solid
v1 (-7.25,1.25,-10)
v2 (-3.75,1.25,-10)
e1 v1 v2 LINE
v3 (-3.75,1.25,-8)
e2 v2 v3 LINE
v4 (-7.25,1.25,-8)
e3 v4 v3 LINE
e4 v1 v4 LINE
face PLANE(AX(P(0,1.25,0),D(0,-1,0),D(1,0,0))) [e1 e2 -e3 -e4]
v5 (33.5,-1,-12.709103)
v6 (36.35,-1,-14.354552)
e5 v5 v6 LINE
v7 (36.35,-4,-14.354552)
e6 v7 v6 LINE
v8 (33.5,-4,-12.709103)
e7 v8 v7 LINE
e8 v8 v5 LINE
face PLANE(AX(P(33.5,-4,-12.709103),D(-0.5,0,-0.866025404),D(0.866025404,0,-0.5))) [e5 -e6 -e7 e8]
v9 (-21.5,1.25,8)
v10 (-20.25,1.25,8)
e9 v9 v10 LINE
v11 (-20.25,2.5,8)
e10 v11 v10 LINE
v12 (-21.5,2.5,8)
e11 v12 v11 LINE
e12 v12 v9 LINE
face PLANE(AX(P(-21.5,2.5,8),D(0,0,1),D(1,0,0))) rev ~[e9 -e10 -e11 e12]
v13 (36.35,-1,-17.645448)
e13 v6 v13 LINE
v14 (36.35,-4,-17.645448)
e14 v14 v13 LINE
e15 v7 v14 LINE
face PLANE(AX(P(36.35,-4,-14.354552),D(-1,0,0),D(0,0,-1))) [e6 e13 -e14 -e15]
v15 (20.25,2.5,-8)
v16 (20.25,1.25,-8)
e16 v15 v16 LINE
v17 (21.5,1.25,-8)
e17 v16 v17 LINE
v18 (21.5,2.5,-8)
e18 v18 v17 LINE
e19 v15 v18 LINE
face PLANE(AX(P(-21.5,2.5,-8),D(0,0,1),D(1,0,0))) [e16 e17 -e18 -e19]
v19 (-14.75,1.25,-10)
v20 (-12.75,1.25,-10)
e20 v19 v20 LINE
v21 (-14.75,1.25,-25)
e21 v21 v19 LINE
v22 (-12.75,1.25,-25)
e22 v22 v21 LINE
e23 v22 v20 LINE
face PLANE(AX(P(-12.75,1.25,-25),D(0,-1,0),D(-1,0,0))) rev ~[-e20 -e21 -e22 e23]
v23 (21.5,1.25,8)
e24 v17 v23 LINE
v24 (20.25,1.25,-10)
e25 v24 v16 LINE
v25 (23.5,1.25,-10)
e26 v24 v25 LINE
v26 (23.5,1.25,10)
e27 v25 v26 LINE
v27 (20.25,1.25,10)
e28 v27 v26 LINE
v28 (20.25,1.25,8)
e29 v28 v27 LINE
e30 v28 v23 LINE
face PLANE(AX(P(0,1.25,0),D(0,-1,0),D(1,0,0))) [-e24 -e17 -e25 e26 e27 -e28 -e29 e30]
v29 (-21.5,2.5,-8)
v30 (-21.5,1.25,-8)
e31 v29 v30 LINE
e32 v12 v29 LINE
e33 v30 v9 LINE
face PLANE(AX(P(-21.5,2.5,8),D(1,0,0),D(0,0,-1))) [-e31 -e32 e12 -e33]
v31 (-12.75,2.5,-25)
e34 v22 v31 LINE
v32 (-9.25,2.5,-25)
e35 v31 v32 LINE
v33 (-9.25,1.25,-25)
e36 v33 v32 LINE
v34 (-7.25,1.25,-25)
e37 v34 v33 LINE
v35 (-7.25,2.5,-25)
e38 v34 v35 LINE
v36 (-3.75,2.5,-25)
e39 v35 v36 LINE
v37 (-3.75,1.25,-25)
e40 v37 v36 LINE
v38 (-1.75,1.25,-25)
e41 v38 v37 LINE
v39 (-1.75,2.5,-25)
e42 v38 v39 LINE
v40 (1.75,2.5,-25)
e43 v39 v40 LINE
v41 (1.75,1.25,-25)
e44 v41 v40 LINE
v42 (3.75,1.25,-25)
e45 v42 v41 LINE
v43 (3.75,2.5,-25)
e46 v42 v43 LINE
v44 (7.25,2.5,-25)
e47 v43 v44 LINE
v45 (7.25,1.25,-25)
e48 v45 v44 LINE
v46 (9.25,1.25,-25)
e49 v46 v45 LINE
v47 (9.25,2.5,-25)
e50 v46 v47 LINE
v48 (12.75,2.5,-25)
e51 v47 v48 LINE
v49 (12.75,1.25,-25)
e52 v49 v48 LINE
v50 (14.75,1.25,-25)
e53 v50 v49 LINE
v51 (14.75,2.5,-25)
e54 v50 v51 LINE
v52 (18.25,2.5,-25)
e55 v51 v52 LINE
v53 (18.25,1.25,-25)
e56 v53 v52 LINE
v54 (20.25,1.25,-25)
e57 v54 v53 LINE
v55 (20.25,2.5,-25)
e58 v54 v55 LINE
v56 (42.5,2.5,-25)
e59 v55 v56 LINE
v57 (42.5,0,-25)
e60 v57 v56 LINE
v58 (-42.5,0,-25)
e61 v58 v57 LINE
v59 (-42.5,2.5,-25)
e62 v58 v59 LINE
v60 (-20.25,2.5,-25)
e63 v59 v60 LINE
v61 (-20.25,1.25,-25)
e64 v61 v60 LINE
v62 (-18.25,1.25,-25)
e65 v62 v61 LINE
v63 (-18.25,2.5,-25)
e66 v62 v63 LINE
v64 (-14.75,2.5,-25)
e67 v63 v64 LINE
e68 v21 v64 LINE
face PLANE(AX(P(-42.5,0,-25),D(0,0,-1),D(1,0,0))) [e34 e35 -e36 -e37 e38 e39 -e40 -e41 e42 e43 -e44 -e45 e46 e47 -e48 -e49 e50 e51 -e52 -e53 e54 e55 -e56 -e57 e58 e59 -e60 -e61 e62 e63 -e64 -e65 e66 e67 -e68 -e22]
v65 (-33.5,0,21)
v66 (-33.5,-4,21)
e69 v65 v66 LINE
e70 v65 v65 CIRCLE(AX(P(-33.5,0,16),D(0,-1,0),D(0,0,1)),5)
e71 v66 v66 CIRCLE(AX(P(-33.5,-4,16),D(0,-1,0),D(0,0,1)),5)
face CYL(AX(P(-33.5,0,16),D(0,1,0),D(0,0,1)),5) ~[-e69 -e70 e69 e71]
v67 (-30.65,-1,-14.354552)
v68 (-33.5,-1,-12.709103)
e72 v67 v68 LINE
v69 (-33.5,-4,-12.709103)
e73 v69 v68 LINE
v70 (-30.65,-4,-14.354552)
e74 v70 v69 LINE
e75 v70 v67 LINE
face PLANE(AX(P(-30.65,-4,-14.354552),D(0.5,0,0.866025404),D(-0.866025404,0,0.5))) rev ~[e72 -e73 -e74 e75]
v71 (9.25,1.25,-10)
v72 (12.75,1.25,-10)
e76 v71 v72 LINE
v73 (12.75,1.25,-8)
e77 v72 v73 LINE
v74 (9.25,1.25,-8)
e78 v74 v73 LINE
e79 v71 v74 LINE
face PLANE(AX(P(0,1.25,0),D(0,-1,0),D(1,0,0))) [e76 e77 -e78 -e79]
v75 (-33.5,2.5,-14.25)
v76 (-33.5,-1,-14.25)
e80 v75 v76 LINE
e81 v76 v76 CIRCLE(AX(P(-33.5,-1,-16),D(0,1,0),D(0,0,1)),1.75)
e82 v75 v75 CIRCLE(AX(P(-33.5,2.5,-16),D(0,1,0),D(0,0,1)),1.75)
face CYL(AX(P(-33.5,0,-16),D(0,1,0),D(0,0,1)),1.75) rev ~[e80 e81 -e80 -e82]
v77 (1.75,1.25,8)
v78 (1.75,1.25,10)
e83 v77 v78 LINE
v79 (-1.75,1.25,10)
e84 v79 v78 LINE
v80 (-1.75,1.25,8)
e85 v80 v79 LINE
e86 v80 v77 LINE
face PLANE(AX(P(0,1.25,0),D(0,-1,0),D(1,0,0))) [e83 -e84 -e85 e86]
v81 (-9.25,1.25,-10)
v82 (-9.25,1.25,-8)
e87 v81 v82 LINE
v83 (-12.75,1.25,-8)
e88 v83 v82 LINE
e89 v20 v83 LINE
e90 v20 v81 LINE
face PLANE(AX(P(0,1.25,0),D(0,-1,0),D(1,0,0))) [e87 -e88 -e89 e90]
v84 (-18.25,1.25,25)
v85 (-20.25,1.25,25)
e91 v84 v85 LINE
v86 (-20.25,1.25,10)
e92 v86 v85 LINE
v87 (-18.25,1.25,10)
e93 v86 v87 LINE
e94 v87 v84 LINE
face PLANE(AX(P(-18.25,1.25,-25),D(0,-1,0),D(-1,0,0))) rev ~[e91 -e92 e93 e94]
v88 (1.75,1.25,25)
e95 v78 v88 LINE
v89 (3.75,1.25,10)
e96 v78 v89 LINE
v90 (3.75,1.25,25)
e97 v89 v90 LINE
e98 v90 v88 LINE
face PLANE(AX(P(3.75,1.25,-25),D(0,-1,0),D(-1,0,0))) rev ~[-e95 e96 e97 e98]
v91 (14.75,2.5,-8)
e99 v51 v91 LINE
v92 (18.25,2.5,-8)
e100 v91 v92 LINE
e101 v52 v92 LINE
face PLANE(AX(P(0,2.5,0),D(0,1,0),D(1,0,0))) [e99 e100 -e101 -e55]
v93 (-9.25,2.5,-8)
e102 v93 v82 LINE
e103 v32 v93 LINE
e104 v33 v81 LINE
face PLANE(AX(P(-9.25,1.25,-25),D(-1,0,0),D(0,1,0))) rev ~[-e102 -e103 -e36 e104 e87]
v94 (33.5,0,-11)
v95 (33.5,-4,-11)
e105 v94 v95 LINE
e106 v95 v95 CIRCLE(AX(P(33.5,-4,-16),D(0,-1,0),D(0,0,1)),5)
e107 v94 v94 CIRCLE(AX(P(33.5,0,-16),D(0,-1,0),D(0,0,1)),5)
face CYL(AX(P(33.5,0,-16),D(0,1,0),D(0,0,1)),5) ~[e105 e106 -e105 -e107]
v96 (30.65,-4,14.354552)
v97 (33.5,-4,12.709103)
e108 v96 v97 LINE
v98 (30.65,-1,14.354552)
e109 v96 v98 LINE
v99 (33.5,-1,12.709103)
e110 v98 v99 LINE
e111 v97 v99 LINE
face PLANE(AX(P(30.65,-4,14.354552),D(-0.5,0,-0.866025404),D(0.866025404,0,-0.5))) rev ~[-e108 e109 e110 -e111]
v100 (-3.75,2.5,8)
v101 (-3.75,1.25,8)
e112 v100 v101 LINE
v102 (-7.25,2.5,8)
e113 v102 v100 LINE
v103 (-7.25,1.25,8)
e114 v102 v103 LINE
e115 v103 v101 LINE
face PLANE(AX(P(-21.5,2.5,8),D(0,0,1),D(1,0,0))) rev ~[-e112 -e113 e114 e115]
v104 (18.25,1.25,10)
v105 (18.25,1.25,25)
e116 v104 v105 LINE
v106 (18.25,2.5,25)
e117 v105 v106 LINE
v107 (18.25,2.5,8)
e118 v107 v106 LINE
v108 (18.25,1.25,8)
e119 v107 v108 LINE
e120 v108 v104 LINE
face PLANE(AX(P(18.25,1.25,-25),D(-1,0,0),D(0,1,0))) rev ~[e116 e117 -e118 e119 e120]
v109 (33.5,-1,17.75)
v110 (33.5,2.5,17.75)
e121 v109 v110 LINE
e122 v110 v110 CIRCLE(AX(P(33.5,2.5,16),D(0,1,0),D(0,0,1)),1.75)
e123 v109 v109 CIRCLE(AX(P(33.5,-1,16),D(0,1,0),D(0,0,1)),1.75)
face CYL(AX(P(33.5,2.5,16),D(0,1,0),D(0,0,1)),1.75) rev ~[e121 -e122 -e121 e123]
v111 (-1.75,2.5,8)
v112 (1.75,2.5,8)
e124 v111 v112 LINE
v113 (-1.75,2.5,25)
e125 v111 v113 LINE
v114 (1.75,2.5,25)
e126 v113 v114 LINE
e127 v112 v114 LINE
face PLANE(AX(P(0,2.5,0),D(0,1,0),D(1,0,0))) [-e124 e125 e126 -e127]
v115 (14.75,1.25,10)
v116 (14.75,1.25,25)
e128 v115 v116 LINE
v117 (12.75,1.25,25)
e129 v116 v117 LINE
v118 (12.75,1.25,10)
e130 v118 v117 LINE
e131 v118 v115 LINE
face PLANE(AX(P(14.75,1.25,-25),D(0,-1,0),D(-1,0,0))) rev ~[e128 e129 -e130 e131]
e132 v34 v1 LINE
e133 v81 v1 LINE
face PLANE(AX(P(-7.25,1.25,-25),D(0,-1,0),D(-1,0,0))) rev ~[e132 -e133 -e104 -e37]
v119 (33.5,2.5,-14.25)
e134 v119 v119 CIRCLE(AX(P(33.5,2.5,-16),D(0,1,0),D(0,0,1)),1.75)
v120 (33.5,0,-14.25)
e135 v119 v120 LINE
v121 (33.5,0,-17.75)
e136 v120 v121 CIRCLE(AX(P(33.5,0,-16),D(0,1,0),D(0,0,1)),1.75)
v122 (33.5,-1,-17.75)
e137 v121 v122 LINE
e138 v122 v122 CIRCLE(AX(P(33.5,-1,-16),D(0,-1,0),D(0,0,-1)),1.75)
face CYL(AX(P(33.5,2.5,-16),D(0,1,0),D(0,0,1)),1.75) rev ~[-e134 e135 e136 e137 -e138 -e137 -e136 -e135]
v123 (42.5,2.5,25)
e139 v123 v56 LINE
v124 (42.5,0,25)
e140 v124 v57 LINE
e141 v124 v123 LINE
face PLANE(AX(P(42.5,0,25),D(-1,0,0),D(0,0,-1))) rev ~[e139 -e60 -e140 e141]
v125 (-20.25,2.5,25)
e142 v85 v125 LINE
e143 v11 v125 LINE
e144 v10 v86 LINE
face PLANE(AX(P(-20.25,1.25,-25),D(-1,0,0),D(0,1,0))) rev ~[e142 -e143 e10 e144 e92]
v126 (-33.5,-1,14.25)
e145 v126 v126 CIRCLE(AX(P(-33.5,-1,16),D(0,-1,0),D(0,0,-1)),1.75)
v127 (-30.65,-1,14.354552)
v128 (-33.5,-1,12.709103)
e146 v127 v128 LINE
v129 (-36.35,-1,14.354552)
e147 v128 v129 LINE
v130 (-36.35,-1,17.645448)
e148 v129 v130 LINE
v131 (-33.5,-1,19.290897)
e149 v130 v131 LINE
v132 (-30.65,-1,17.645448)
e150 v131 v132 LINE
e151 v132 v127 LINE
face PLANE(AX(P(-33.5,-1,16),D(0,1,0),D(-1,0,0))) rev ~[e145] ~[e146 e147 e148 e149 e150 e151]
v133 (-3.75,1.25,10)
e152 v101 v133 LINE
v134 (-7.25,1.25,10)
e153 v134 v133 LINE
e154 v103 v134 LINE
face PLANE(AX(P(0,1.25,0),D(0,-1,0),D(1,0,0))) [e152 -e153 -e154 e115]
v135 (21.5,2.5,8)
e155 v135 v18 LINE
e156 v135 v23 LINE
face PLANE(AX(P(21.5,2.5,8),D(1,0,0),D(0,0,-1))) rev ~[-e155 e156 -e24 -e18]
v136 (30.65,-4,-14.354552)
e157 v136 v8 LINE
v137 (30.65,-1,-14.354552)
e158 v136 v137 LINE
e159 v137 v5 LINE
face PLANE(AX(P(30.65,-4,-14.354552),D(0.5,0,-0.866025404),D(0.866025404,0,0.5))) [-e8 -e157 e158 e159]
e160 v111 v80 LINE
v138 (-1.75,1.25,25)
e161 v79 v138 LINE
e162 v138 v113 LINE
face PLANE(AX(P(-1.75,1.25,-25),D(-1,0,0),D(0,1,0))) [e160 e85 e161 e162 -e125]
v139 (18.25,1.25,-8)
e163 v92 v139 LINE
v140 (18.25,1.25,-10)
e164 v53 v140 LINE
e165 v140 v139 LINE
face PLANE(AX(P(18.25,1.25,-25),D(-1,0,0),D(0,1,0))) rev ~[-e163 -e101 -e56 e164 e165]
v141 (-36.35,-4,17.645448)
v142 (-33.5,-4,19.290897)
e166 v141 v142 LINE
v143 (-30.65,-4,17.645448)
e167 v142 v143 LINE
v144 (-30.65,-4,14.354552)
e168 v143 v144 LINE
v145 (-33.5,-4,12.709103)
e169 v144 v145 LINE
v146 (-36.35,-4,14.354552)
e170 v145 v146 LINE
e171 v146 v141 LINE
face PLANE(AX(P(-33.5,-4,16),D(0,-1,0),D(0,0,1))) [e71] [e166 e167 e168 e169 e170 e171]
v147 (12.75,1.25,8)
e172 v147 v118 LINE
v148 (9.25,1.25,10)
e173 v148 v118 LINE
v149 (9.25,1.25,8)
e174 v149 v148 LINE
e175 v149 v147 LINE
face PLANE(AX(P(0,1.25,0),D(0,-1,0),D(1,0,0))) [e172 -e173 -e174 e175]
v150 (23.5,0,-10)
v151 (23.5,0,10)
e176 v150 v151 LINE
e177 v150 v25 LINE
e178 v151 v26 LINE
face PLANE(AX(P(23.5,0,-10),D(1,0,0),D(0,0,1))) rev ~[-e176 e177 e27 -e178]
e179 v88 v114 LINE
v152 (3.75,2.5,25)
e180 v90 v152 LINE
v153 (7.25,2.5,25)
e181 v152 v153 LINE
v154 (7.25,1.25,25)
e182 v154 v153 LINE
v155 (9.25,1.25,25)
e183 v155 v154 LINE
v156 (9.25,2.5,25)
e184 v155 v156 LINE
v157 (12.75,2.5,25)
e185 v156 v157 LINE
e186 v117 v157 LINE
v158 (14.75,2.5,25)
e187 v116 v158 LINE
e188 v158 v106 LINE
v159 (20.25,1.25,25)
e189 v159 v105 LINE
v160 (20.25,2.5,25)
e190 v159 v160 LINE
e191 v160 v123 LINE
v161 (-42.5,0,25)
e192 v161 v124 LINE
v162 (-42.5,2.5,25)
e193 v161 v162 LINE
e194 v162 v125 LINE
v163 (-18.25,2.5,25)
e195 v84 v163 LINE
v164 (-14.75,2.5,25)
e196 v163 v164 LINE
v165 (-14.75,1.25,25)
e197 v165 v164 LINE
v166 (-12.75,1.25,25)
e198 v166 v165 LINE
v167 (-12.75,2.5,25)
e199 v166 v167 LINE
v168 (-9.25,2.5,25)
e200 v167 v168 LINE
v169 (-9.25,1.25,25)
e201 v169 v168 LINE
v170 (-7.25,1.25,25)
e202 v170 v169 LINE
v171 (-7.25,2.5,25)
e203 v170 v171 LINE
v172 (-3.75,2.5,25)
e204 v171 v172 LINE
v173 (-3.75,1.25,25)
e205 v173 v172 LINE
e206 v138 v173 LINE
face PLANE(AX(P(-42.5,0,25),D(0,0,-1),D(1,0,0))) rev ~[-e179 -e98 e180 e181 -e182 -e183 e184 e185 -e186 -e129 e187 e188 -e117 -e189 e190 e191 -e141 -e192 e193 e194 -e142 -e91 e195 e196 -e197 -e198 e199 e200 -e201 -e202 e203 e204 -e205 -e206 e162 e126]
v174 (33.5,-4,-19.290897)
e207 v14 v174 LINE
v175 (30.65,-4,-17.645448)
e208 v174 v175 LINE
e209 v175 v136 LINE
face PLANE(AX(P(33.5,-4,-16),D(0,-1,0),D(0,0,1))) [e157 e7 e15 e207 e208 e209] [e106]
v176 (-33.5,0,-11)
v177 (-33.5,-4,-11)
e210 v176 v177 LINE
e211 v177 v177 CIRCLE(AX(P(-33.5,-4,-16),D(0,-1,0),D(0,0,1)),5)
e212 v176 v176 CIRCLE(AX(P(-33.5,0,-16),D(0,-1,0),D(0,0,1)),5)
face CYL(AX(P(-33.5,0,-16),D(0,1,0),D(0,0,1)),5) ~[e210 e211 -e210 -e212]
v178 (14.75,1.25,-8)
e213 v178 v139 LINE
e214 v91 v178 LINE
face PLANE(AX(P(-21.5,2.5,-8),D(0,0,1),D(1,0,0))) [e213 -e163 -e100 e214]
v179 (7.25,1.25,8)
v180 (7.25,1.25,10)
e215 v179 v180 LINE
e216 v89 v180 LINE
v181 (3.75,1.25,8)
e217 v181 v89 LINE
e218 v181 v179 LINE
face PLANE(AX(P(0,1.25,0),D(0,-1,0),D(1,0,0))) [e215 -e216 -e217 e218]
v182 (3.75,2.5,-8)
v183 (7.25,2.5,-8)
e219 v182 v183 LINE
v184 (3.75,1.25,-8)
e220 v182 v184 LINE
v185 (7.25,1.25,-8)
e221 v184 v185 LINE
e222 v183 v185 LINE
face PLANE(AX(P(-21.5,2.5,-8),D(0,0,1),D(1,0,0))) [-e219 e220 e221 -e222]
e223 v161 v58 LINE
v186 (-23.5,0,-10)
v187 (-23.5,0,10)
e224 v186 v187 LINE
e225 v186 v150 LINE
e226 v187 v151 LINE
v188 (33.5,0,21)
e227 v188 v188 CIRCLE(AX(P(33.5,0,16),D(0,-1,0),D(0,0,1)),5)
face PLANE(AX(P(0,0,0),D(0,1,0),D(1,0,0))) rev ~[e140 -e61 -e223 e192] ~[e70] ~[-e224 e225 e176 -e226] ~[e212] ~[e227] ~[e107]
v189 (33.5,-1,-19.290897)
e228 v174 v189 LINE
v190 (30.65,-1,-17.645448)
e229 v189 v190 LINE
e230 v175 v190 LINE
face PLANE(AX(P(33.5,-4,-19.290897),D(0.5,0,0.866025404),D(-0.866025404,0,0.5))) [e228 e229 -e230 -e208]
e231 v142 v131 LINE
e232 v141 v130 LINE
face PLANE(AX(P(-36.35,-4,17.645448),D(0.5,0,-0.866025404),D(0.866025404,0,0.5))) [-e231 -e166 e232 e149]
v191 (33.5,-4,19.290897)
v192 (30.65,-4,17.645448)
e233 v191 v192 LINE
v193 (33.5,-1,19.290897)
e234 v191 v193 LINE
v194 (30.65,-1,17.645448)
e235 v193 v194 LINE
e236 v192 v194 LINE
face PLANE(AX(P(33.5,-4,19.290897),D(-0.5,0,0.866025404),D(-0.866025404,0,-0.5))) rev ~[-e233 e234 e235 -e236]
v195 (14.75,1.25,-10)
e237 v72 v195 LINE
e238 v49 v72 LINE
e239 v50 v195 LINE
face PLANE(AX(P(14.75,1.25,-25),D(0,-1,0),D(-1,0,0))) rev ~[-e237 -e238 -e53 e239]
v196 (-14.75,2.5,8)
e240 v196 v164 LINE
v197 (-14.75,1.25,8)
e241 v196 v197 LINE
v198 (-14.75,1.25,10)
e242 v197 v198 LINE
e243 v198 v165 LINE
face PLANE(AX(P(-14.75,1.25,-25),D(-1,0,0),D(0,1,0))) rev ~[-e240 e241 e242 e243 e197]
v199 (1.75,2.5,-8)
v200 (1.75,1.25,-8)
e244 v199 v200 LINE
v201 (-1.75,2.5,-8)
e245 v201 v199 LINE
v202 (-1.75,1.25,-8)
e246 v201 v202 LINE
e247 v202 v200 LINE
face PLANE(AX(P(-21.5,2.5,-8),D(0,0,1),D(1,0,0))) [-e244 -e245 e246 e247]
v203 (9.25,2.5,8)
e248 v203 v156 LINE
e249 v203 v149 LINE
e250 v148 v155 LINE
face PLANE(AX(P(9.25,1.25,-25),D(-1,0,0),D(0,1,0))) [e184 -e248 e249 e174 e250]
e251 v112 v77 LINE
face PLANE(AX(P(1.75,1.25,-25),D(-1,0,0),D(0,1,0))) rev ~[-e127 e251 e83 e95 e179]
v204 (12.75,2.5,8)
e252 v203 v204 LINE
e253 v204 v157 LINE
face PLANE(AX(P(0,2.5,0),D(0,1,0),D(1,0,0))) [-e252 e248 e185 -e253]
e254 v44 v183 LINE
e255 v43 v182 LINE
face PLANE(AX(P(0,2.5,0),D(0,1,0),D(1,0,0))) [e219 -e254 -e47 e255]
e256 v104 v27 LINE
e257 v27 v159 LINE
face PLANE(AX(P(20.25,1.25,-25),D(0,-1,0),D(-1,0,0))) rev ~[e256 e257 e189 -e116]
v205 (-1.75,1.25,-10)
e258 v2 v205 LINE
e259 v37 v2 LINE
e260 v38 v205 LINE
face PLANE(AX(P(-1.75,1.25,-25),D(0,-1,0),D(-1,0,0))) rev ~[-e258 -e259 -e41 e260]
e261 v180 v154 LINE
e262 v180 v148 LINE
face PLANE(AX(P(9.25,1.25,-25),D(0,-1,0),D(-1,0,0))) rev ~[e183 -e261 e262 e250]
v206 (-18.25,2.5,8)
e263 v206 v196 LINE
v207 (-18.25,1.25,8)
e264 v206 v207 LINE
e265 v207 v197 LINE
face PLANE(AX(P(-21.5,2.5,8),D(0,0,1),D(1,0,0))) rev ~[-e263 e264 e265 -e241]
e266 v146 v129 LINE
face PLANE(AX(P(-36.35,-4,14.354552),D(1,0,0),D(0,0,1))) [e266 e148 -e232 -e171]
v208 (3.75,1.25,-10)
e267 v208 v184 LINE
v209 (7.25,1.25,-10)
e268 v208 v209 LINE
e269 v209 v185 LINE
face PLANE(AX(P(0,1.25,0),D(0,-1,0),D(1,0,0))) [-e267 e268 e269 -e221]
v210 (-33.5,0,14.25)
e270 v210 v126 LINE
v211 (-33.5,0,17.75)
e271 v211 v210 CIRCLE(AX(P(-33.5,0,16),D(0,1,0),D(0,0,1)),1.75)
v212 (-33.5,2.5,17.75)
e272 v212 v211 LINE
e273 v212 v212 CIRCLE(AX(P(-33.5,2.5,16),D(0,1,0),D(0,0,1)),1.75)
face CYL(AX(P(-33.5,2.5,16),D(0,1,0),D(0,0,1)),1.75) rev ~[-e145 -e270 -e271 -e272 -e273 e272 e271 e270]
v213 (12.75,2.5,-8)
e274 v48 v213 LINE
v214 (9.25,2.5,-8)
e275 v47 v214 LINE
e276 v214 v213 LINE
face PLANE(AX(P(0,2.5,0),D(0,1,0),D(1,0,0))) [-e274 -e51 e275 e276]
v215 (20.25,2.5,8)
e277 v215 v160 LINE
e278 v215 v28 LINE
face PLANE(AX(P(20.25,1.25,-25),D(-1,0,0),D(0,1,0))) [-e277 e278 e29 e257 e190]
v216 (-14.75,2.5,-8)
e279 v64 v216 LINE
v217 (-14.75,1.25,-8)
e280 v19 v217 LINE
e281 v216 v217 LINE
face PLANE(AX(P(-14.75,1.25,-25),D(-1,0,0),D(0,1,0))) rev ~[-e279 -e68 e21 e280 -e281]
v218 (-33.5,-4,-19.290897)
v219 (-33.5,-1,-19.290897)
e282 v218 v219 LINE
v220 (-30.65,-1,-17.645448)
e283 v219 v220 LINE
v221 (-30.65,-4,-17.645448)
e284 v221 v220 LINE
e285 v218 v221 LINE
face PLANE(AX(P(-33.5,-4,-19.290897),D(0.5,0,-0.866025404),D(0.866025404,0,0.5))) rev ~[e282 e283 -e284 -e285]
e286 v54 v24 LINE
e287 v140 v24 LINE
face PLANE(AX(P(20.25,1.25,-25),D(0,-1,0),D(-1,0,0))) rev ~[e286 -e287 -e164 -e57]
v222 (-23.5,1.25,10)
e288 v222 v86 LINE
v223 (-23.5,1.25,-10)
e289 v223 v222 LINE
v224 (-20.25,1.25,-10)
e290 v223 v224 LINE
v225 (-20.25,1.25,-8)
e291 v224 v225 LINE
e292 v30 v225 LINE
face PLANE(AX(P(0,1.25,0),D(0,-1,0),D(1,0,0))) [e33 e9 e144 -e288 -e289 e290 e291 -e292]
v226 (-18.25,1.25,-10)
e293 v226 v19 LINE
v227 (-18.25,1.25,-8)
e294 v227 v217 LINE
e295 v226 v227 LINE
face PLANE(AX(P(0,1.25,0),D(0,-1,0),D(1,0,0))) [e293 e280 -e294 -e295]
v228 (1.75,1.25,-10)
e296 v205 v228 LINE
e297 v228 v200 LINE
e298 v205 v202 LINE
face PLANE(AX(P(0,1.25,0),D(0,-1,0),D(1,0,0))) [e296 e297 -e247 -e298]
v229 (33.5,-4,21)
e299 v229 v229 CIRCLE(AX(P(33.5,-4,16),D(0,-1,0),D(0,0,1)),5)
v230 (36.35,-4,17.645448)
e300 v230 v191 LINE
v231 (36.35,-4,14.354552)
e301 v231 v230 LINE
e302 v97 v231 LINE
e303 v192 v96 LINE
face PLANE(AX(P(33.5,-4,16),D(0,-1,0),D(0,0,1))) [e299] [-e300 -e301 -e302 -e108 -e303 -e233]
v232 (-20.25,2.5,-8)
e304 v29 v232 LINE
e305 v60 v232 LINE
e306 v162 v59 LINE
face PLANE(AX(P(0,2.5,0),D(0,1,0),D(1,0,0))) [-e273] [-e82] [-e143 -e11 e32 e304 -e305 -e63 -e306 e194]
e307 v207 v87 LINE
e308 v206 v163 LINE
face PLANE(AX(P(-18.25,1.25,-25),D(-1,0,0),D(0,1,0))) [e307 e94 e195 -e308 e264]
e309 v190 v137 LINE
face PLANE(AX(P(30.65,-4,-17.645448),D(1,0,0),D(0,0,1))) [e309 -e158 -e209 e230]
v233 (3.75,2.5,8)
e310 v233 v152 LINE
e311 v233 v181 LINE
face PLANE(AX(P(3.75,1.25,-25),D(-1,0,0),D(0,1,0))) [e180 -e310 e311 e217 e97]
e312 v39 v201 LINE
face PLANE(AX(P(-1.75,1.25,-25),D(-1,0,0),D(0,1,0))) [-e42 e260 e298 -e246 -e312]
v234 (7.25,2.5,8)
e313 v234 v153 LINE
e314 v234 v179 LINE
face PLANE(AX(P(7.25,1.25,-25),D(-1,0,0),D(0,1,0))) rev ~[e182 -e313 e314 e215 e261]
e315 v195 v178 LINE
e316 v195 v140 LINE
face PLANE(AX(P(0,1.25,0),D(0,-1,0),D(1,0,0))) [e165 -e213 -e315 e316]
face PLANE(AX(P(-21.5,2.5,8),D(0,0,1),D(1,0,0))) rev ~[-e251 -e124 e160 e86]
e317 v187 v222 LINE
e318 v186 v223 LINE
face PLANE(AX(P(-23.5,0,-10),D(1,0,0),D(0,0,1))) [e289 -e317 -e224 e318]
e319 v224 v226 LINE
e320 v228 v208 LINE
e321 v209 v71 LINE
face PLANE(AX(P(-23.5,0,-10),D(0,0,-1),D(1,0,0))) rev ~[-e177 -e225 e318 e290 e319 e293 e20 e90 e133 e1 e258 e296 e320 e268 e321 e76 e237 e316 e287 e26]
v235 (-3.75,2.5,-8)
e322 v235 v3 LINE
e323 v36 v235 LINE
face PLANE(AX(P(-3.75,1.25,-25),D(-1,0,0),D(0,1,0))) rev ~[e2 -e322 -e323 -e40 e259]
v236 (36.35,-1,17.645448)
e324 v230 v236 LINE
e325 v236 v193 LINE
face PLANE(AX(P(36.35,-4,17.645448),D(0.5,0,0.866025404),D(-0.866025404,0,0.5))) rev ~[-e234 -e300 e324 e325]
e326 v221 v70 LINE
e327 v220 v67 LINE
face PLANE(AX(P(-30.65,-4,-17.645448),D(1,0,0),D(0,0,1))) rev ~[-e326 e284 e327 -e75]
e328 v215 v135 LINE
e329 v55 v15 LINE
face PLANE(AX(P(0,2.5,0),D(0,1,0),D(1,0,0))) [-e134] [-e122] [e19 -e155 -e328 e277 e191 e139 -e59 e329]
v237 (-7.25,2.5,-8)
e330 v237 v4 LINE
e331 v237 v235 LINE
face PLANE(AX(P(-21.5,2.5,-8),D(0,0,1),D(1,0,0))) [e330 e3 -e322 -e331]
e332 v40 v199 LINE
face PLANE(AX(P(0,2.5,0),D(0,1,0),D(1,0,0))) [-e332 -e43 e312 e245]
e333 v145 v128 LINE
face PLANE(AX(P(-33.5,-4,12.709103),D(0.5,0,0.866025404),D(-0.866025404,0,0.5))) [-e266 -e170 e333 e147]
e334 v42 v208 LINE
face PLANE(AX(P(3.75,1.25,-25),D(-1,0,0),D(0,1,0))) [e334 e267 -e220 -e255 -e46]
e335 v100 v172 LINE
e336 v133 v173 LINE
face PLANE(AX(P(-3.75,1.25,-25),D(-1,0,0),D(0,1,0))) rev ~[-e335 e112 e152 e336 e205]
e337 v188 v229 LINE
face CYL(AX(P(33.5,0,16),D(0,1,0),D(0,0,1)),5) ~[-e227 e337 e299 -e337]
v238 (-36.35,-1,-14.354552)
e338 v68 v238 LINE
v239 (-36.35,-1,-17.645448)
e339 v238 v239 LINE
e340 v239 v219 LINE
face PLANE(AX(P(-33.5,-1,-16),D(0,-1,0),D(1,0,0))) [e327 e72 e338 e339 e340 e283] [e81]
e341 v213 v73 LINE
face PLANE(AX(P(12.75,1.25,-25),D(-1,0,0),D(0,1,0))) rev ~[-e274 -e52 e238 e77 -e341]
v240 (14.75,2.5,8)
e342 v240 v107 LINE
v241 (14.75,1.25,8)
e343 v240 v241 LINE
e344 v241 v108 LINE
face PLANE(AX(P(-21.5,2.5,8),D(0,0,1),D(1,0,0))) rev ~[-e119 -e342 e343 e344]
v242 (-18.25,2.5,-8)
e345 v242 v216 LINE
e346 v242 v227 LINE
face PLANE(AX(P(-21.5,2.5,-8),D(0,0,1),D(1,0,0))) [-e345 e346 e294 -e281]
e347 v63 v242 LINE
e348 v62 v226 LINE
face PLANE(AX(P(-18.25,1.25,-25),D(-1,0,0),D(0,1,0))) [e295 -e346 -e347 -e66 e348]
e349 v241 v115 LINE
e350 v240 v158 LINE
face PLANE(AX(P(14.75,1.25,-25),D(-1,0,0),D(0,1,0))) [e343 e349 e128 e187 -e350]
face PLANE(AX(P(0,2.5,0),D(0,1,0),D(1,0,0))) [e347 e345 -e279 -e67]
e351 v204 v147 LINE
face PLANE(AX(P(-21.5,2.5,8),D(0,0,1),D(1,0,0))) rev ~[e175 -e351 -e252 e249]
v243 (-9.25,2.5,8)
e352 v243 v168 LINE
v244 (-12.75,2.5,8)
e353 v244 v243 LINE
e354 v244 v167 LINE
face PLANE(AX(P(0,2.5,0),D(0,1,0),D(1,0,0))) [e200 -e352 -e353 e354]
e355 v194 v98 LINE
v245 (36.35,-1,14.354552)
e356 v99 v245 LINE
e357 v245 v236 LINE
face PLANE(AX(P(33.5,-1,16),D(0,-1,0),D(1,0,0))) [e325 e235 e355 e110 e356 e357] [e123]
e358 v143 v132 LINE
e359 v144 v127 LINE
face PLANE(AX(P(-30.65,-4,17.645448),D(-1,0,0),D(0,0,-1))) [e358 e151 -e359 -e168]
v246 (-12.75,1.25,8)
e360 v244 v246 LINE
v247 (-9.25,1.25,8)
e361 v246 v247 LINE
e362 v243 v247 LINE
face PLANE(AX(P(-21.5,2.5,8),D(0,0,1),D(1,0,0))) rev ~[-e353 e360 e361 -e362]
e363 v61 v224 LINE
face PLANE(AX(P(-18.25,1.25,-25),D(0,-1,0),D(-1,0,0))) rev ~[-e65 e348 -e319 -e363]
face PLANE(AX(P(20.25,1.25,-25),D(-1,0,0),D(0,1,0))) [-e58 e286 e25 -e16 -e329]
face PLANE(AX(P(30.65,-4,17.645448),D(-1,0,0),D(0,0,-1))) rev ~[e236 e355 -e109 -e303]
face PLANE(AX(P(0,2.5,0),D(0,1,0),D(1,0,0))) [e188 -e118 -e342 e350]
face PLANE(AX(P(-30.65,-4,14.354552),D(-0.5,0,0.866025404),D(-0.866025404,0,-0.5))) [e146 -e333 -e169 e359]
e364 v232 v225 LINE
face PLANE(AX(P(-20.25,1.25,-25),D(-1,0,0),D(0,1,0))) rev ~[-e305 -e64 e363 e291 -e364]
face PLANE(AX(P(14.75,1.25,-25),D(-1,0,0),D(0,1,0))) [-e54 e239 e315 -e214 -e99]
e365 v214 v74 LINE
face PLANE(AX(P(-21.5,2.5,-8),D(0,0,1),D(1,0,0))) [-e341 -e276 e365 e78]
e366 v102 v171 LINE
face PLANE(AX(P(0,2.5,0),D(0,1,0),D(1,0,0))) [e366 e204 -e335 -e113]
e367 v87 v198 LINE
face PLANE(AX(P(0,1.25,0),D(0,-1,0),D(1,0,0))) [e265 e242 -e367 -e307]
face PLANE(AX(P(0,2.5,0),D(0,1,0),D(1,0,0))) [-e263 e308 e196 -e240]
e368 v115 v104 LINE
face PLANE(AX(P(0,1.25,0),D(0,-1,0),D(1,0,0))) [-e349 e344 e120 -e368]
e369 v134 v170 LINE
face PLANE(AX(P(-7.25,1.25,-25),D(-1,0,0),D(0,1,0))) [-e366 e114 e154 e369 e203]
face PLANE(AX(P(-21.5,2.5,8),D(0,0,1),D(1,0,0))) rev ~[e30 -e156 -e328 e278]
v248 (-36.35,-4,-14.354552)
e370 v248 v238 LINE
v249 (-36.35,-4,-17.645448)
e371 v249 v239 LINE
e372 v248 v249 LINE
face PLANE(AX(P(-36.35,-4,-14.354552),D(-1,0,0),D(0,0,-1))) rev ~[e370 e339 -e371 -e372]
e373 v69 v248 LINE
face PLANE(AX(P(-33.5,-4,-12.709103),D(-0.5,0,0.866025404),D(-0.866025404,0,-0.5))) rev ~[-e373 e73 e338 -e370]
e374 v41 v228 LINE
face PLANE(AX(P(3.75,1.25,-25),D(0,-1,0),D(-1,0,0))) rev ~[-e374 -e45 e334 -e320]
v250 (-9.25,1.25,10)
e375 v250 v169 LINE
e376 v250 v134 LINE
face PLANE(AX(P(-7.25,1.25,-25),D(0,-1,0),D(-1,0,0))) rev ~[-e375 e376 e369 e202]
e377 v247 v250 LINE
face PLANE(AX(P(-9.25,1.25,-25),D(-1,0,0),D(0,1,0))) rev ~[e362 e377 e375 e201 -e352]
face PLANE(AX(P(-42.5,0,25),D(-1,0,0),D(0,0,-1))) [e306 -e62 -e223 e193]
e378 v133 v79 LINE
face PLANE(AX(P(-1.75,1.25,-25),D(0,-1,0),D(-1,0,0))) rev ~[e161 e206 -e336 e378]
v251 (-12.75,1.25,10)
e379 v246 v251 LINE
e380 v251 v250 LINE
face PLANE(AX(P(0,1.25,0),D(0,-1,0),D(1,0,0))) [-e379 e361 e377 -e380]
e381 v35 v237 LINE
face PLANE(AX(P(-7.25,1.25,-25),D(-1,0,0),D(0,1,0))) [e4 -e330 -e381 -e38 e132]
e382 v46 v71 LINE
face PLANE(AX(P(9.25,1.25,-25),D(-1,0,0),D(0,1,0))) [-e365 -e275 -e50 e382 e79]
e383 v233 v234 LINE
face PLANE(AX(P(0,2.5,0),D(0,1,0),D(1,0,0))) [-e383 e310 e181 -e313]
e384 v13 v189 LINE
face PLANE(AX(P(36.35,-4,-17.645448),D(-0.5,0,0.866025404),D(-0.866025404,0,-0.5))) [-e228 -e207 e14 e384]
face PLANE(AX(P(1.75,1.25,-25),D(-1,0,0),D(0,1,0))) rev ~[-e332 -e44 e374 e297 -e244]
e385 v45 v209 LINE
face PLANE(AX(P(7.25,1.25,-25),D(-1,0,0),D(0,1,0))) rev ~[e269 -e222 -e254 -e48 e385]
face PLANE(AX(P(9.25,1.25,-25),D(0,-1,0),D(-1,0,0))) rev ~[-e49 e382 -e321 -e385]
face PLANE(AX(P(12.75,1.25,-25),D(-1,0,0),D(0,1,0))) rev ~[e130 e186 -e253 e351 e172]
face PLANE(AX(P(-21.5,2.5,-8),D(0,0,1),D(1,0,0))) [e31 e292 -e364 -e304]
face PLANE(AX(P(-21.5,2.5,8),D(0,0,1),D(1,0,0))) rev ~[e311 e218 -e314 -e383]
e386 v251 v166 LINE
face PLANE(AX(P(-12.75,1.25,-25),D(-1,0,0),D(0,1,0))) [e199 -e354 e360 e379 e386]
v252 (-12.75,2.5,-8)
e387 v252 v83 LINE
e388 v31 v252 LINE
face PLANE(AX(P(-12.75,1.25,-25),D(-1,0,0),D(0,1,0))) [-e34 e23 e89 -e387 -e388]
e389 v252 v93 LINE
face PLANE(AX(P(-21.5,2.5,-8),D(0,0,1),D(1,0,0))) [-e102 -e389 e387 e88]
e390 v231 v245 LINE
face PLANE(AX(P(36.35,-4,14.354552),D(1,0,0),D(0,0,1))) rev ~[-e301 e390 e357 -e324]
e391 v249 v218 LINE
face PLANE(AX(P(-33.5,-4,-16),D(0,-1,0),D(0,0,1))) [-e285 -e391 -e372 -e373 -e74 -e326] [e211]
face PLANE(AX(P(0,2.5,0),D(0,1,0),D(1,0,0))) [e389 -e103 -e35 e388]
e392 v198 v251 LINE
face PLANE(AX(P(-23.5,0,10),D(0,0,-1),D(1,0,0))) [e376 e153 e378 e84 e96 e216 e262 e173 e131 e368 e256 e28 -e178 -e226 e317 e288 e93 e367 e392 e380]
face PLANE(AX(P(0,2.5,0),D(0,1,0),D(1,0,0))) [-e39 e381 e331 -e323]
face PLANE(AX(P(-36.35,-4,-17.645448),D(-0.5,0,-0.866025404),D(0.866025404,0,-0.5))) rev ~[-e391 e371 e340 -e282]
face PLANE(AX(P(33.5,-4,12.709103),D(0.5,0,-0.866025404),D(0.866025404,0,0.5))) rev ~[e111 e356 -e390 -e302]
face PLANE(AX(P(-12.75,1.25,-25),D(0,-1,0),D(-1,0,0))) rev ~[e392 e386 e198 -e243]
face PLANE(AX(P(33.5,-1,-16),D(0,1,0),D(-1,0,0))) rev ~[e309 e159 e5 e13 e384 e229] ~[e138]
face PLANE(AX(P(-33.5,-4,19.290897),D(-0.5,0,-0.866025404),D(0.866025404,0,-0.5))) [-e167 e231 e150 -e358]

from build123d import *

# Parameters (mm, degrees)
SKETCH1_W           = 85
SKETCH1_H           = 50
BASE_PLATE_DEPTH    = 2.5
SKETCH7_R           = 1.75
SCRE_CUT_DEPTH      = 5
SKETCH13_W          = 43
SKETCH13_H          = 16
CUT_EXTRUDE1_DEPTH  = 10
SKETCH15_R          = 5
BOSS_EXTRUDE3_DEPTH = 4
SKETCH18_R          = 1.75
CUT_EXTRUDE4_DEPTH  = 4
M3_NUT_DEPTH        = 3
SKETCH21_W          = 47
SKETCH21_H          = 20
SKETCH21_W_2        = 43
SKETCH21_H_2        = 16
CUT_EXTRUDE7_DEPTH  = 1.25
CUT_EXTRUDE8_REACH  = 67.744
SKETCH20_W          = 2
SKETCH20_H          = 1.25


with BuildPart() as part:
    # Sketch1 → Base Plate (new body)
    with BuildSketch(Plane(origin=(0, 0, 0), x_dir=(1, 0, 0), z_dir=(0, 1, 0))):
        Rectangle(SKETCH1_W, SKETCH1_H)
    extrude(amount=BASE_PLATE_DEPTH)

    # Sketch7 → Scre Cut (cut)
    with BuildSketch(Plane(origin=(0, 2.5, 0), x_dir=(1, 0, 0), z_dir=(0, 1, 0))):
        with Locations(Location((-33.5, 16, 0), (0, 0, 270))):
            Circle(SKETCH7_R)
        with Locations(Location((-33.5, -16, 0), (0, 0, 270))):
            Circle(SKETCH7_R)
        with Locations(Location((33.5, -16, 0), (0, 0, 270))):
            Circle(SKETCH7_R)
        with Locations(Location((33.5, 16, 0), (0, 0, 270))):
            Circle(SKETCH7_R)
    extrude(amount=-SCRE_CUT_DEPTH, mode=Mode.SUBTRACT)

    # Sketch13 → Cut-Extrude1 (cut)
    with BuildSketch(Plane(origin=(0, 2.5, 0), x_dir=(1, 0, 0), z_dir=(0, 1, 0))):
        Rectangle(SKETCH13_W, SKETCH13_H)
    extrude(amount=-CUT_EXTRUDE1_DEPTH, mode=Mode.SUBTRACT)

    # Sketch15 → Boss-Extrude3 (add)
    with BuildSketch(Plane(origin=(-42.5, 0, -25), x_dir=(1, 0, 0), z_dir=(0, -1, 0))):
        with Locations(Location((9, 9, 0), (0, 0, 90))):
            Circle(SKETCH15_R)
        with Locations(Location((9, 41, 0), (0, 0, 90))):
            Circle(SKETCH15_R)
        with Locations(Location((76, 41, 0), (0, 0, 90))):
            Circle(SKETCH15_R)
        with Locations(Location((76, 9, 0), (0, 0, 90))):
            Circle(SKETCH15_R)
    extrude(amount=BOSS_EXTRUDE3_DEPTH)

    # Sketch18 → Cut-Extrude4 (cut)
    with BuildSketch(Plane(origin=(0, 0, 0), x_dir=(1, 0, 0), z_dir=(0, 1, 0))):
        with Locations(Location((-33.5, 16, 0), (0, 0, 270))):
            Circle(SKETCH18_R)
        with Locations(Location((-33.5, -16, 0), (0, 0, 90))):
            Circle(SKETCH18_R)
        with Locations(Location((33.5, 16, 0), (0, 0, 90))):
            Circle(SKETCH18_R)
        with Locations(Location((33.5, -16, 0), (0, 0, 270))):
            Circle(SKETCH18_R)
    extrude(amount=-CUT_EXTRUDE4_DEPTH, mode=Mode.SUBTRACT)

    # Sketch19 → M3 Nut (cut)
    with BuildSketch(Plane.XZ.offset(4)):
        Polygon((-33.5, -12.709103466), (-36.35, -14.354551733), (-36.35, -17.645448267), (-33.5, -19.290896534), (-30.65, -17.645448267), (-30.65, -14.354551733), align=None)
        Polygon((-30.65, 14.354551733), (-33.5, 12.709103466), (-36.35, 14.354551733), (-36.35, 17.645448267), (-33.5, 19.290896534), (-30.65, 17.645448267), align=None)
        Polygon((30.65, -14.354551733), (33.5, -12.709103466), (36.35, -14.354551733), (36.35, -17.645448267), (33.5, -19.290896534), (30.65, -17.645448267), align=None)
        Polygon((33.5, 12.709103466), (36.35, 14.354551733), (36.35, 17.645448267), (33.5, 19.290896534), (30.65, 17.645448267), (30.65, 14.354551733), align=None)
    extrude(amount=-M3_NUT_DEPTH, mode=Mode.SUBTRACT)

    # Sketch21 → Cut-Extrude7 (cut)
    with BuildSketch(Plane.XZ):
        Rectangle(SKETCH21_W, SKETCH21_H)
        Rectangle(SKETCH21_W_2, SKETCH21_H_2, mode=Mode.SUBTRACT)
    extrude(amount=-CUT_EXTRUDE7_DEPTH, mode=Mode.SUBTRACT)

    # Cut-Extrude8: up to this face of the body (flat: up to its plane)
    cut_extrude8_end = Plane(part.part.faces().sort_by_distance((0, 1.25, 25))[0])
    # Sketch20 → Cut-Extrude8 (cut, up to the picked face)
    with BuildSketch(Plane(origin=(0, 0, -25), x_dir=(-1, 0, 0), z_dir=(0, 0, -1)), mode=Mode.PRIVATE) as cut_extrude8_sk1:
        with Locations((-2.75, 1.875)):
            Rectangle(SKETCH20_W, SKETCH20_H)
    cut_extrude8_tool1 = split(extrude(cut_extrude8_sk1.sketch, amount=-CUT_EXTRUDE8_REACH, mode=Mode.PRIVATE), bisect_by=cut_extrude8_end, keep=Keep.BOTH, mode=Mode.PRIVATE)
    # Sketch20 → Cut-Extrude8 (cut, up to the picked face)
    with BuildSketch(Plane(origin=(0, 0, -25), x_dir=(-1, 0, 0), z_dir=(0, 0, -1)), mode=Mode.PRIVATE) as cut_extrude8_sk2:
        with Locations((-8.25, 1.875)):
            Rectangle(SKETCH20_W, SKETCH20_H)
    cut_extrude8_tool2 = split(extrude(cut_extrude8_sk2.sketch, amount=-CUT_EXTRUDE8_REACH, mode=Mode.PRIVATE), bisect_by=cut_extrude8_end, keep=Keep.BOTH, mode=Mode.PRIVATE)
    # Sketch20 → Cut-Extrude8 (cut, up to the picked face)
    with BuildSketch(Plane(origin=(0, 0, -25), x_dir=(-1, 0, 0), z_dir=(0, 0, -1)), mode=Mode.PRIVATE) as cut_extrude8_sk3:
        with Locations((-13.75, 1.875)):
            Rectangle(SKETCH20_W, SKETCH20_H)
    cut_extrude8_tool3 = split(extrude(cut_extrude8_sk3.sketch, amount=-CUT_EXTRUDE8_REACH, mode=Mode.PRIVATE), bisect_by=cut_extrude8_end, keep=Keep.BOTH, mode=Mode.PRIVATE)
    # Sketch20 → Cut-Extrude8 (cut, up to the picked face)
    with BuildSketch(Plane(origin=(0, 0, -25), x_dir=(-1, 0, 0), z_dir=(0, 0, -1)), mode=Mode.PRIVATE) as cut_extrude8_sk4:
        with Locations((-19.25, 1.875)):
            Rectangle(SKETCH20_W, SKETCH20_H)
    cut_extrude8_tool4 = split(extrude(cut_extrude8_sk4.sketch, amount=-CUT_EXTRUDE8_REACH, mode=Mode.PRIVATE), bisect_by=cut_extrude8_end, keep=Keep.BOTH, mode=Mode.PRIVATE)
    # Sketch20 → Cut-Extrude8 (cut, up to the picked face)
    with BuildSketch(Plane(origin=(0, 0, -25), x_dir=(-1, 0, 0), z_dir=(0, 0, -1)), mode=Mode.PRIVATE) as cut_extrude8_sk5:
        with Locations((19.25, 1.875)):
            Rectangle(SKETCH20_W, SKETCH20_H)
    cut_extrude8_tool5 = split(extrude(cut_extrude8_sk5.sketch, amount=-CUT_EXTRUDE8_REACH, mode=Mode.PRIVATE), bisect_by=cut_extrude8_end, keep=Keep.BOTH, mode=Mode.PRIVATE)
    # Sketch20 → Cut-Extrude8 (cut, up to the picked face)
    with BuildSketch(Plane(origin=(0, 0, -25), x_dir=(-1, 0, 0), z_dir=(0, 0, -1)), mode=Mode.PRIVATE) as cut_extrude8_sk6:
        with Locations((13.75, 1.875)):
            Rectangle(SKETCH20_W, SKETCH20_H)
    cut_extrude8_tool6 = split(extrude(cut_extrude8_sk6.sketch, amount=-CUT_EXTRUDE8_REACH, mode=Mode.PRIVATE), bisect_by=cut_extrude8_end, keep=Keep.BOTH, mode=Mode.PRIVATE)
    # Sketch20 → Cut-Extrude8 (cut, up to the picked face)
    with BuildSketch(Plane(origin=(0, 0, -25), x_dir=(-1, 0, 0), z_dir=(0, 0, -1)), mode=Mode.PRIVATE) as cut_extrude8_sk7:
        with Locations((8.25, 1.875)):
            Rectangle(SKETCH20_W, SKETCH20_H)
    cut_extrude8_tool7 = split(extrude(cut_extrude8_sk7.sketch, amount=-CUT_EXTRUDE8_REACH, mode=Mode.PRIVATE), bisect_by=cut_extrude8_end, keep=Keep.BOTH, mode=Mode.PRIVATE)
    # Sketch20 → Cut-Extrude8 (cut, up to the picked face)
    with BuildSketch(Plane(origin=(0, 0, -25), x_dir=(-1, 0, 0), z_dir=(0, 0, -1)), mode=Mode.PRIVATE) as cut_extrude8_sk8:
        with Locations((2.75, 1.875)):
            Rectangle(SKETCH20_W, SKETCH20_H)
    cut_extrude8_tool8 = split(extrude(cut_extrude8_sk8.sketch, amount=-CUT_EXTRUDE8_REACH, mode=Mode.PRIVATE), bisect_by=cut_extrude8_end, keep=Keep.BOTH, mode=Mode.PRIVATE)
    add(cut_extrude8_tool1.solids().sort_by(Axis((2.75, 1.875, -25), (0, 0, 1)))[0], mode=Mode.SUBTRACT)
    add(cut_extrude8_tool2.solids().sort_by(Axis((8.25, 1.875, -25), (0, 0, 1)))[0], mode=Mode.SUBTRACT)
    add(cut_extrude8_tool3.solids().sort_by(Axis((13.75, 1.875, -25), (0, 0, 1)))[0], mode=Mode.SUBTRACT)
    add(cut_extrude8_tool4.solids().sort_by(Axis((19.25, 1.875, -25), (0, 0, 1)))[0], mode=Mode.SUBTRACT)
    add(cut_extrude8_tool5.solids().sort_by(Axis((-19.25, 1.875, -25), (0, 0, 1)))[0], mode=Mode.SUBTRACT)
    add(cut_extrude8_tool6.solids().sort_by(Axis((-13.75, 1.875, -25), (0, 0, 1)))[0], mode=Mode.SUBTRACT)
    add(cut_extrude8_tool7.solids().sort_by(Axis((-8.25, 1.875, -25), (0, 0, 1)))[0], mode=Mode.SUBTRACT)
    add(cut_extrude8_tool8.solids().sort_by(Axis((-2.75, 1.875, -25), (0, 0, 1)))[0], mode=Mode.SUBTRACT)


solid = part.part
